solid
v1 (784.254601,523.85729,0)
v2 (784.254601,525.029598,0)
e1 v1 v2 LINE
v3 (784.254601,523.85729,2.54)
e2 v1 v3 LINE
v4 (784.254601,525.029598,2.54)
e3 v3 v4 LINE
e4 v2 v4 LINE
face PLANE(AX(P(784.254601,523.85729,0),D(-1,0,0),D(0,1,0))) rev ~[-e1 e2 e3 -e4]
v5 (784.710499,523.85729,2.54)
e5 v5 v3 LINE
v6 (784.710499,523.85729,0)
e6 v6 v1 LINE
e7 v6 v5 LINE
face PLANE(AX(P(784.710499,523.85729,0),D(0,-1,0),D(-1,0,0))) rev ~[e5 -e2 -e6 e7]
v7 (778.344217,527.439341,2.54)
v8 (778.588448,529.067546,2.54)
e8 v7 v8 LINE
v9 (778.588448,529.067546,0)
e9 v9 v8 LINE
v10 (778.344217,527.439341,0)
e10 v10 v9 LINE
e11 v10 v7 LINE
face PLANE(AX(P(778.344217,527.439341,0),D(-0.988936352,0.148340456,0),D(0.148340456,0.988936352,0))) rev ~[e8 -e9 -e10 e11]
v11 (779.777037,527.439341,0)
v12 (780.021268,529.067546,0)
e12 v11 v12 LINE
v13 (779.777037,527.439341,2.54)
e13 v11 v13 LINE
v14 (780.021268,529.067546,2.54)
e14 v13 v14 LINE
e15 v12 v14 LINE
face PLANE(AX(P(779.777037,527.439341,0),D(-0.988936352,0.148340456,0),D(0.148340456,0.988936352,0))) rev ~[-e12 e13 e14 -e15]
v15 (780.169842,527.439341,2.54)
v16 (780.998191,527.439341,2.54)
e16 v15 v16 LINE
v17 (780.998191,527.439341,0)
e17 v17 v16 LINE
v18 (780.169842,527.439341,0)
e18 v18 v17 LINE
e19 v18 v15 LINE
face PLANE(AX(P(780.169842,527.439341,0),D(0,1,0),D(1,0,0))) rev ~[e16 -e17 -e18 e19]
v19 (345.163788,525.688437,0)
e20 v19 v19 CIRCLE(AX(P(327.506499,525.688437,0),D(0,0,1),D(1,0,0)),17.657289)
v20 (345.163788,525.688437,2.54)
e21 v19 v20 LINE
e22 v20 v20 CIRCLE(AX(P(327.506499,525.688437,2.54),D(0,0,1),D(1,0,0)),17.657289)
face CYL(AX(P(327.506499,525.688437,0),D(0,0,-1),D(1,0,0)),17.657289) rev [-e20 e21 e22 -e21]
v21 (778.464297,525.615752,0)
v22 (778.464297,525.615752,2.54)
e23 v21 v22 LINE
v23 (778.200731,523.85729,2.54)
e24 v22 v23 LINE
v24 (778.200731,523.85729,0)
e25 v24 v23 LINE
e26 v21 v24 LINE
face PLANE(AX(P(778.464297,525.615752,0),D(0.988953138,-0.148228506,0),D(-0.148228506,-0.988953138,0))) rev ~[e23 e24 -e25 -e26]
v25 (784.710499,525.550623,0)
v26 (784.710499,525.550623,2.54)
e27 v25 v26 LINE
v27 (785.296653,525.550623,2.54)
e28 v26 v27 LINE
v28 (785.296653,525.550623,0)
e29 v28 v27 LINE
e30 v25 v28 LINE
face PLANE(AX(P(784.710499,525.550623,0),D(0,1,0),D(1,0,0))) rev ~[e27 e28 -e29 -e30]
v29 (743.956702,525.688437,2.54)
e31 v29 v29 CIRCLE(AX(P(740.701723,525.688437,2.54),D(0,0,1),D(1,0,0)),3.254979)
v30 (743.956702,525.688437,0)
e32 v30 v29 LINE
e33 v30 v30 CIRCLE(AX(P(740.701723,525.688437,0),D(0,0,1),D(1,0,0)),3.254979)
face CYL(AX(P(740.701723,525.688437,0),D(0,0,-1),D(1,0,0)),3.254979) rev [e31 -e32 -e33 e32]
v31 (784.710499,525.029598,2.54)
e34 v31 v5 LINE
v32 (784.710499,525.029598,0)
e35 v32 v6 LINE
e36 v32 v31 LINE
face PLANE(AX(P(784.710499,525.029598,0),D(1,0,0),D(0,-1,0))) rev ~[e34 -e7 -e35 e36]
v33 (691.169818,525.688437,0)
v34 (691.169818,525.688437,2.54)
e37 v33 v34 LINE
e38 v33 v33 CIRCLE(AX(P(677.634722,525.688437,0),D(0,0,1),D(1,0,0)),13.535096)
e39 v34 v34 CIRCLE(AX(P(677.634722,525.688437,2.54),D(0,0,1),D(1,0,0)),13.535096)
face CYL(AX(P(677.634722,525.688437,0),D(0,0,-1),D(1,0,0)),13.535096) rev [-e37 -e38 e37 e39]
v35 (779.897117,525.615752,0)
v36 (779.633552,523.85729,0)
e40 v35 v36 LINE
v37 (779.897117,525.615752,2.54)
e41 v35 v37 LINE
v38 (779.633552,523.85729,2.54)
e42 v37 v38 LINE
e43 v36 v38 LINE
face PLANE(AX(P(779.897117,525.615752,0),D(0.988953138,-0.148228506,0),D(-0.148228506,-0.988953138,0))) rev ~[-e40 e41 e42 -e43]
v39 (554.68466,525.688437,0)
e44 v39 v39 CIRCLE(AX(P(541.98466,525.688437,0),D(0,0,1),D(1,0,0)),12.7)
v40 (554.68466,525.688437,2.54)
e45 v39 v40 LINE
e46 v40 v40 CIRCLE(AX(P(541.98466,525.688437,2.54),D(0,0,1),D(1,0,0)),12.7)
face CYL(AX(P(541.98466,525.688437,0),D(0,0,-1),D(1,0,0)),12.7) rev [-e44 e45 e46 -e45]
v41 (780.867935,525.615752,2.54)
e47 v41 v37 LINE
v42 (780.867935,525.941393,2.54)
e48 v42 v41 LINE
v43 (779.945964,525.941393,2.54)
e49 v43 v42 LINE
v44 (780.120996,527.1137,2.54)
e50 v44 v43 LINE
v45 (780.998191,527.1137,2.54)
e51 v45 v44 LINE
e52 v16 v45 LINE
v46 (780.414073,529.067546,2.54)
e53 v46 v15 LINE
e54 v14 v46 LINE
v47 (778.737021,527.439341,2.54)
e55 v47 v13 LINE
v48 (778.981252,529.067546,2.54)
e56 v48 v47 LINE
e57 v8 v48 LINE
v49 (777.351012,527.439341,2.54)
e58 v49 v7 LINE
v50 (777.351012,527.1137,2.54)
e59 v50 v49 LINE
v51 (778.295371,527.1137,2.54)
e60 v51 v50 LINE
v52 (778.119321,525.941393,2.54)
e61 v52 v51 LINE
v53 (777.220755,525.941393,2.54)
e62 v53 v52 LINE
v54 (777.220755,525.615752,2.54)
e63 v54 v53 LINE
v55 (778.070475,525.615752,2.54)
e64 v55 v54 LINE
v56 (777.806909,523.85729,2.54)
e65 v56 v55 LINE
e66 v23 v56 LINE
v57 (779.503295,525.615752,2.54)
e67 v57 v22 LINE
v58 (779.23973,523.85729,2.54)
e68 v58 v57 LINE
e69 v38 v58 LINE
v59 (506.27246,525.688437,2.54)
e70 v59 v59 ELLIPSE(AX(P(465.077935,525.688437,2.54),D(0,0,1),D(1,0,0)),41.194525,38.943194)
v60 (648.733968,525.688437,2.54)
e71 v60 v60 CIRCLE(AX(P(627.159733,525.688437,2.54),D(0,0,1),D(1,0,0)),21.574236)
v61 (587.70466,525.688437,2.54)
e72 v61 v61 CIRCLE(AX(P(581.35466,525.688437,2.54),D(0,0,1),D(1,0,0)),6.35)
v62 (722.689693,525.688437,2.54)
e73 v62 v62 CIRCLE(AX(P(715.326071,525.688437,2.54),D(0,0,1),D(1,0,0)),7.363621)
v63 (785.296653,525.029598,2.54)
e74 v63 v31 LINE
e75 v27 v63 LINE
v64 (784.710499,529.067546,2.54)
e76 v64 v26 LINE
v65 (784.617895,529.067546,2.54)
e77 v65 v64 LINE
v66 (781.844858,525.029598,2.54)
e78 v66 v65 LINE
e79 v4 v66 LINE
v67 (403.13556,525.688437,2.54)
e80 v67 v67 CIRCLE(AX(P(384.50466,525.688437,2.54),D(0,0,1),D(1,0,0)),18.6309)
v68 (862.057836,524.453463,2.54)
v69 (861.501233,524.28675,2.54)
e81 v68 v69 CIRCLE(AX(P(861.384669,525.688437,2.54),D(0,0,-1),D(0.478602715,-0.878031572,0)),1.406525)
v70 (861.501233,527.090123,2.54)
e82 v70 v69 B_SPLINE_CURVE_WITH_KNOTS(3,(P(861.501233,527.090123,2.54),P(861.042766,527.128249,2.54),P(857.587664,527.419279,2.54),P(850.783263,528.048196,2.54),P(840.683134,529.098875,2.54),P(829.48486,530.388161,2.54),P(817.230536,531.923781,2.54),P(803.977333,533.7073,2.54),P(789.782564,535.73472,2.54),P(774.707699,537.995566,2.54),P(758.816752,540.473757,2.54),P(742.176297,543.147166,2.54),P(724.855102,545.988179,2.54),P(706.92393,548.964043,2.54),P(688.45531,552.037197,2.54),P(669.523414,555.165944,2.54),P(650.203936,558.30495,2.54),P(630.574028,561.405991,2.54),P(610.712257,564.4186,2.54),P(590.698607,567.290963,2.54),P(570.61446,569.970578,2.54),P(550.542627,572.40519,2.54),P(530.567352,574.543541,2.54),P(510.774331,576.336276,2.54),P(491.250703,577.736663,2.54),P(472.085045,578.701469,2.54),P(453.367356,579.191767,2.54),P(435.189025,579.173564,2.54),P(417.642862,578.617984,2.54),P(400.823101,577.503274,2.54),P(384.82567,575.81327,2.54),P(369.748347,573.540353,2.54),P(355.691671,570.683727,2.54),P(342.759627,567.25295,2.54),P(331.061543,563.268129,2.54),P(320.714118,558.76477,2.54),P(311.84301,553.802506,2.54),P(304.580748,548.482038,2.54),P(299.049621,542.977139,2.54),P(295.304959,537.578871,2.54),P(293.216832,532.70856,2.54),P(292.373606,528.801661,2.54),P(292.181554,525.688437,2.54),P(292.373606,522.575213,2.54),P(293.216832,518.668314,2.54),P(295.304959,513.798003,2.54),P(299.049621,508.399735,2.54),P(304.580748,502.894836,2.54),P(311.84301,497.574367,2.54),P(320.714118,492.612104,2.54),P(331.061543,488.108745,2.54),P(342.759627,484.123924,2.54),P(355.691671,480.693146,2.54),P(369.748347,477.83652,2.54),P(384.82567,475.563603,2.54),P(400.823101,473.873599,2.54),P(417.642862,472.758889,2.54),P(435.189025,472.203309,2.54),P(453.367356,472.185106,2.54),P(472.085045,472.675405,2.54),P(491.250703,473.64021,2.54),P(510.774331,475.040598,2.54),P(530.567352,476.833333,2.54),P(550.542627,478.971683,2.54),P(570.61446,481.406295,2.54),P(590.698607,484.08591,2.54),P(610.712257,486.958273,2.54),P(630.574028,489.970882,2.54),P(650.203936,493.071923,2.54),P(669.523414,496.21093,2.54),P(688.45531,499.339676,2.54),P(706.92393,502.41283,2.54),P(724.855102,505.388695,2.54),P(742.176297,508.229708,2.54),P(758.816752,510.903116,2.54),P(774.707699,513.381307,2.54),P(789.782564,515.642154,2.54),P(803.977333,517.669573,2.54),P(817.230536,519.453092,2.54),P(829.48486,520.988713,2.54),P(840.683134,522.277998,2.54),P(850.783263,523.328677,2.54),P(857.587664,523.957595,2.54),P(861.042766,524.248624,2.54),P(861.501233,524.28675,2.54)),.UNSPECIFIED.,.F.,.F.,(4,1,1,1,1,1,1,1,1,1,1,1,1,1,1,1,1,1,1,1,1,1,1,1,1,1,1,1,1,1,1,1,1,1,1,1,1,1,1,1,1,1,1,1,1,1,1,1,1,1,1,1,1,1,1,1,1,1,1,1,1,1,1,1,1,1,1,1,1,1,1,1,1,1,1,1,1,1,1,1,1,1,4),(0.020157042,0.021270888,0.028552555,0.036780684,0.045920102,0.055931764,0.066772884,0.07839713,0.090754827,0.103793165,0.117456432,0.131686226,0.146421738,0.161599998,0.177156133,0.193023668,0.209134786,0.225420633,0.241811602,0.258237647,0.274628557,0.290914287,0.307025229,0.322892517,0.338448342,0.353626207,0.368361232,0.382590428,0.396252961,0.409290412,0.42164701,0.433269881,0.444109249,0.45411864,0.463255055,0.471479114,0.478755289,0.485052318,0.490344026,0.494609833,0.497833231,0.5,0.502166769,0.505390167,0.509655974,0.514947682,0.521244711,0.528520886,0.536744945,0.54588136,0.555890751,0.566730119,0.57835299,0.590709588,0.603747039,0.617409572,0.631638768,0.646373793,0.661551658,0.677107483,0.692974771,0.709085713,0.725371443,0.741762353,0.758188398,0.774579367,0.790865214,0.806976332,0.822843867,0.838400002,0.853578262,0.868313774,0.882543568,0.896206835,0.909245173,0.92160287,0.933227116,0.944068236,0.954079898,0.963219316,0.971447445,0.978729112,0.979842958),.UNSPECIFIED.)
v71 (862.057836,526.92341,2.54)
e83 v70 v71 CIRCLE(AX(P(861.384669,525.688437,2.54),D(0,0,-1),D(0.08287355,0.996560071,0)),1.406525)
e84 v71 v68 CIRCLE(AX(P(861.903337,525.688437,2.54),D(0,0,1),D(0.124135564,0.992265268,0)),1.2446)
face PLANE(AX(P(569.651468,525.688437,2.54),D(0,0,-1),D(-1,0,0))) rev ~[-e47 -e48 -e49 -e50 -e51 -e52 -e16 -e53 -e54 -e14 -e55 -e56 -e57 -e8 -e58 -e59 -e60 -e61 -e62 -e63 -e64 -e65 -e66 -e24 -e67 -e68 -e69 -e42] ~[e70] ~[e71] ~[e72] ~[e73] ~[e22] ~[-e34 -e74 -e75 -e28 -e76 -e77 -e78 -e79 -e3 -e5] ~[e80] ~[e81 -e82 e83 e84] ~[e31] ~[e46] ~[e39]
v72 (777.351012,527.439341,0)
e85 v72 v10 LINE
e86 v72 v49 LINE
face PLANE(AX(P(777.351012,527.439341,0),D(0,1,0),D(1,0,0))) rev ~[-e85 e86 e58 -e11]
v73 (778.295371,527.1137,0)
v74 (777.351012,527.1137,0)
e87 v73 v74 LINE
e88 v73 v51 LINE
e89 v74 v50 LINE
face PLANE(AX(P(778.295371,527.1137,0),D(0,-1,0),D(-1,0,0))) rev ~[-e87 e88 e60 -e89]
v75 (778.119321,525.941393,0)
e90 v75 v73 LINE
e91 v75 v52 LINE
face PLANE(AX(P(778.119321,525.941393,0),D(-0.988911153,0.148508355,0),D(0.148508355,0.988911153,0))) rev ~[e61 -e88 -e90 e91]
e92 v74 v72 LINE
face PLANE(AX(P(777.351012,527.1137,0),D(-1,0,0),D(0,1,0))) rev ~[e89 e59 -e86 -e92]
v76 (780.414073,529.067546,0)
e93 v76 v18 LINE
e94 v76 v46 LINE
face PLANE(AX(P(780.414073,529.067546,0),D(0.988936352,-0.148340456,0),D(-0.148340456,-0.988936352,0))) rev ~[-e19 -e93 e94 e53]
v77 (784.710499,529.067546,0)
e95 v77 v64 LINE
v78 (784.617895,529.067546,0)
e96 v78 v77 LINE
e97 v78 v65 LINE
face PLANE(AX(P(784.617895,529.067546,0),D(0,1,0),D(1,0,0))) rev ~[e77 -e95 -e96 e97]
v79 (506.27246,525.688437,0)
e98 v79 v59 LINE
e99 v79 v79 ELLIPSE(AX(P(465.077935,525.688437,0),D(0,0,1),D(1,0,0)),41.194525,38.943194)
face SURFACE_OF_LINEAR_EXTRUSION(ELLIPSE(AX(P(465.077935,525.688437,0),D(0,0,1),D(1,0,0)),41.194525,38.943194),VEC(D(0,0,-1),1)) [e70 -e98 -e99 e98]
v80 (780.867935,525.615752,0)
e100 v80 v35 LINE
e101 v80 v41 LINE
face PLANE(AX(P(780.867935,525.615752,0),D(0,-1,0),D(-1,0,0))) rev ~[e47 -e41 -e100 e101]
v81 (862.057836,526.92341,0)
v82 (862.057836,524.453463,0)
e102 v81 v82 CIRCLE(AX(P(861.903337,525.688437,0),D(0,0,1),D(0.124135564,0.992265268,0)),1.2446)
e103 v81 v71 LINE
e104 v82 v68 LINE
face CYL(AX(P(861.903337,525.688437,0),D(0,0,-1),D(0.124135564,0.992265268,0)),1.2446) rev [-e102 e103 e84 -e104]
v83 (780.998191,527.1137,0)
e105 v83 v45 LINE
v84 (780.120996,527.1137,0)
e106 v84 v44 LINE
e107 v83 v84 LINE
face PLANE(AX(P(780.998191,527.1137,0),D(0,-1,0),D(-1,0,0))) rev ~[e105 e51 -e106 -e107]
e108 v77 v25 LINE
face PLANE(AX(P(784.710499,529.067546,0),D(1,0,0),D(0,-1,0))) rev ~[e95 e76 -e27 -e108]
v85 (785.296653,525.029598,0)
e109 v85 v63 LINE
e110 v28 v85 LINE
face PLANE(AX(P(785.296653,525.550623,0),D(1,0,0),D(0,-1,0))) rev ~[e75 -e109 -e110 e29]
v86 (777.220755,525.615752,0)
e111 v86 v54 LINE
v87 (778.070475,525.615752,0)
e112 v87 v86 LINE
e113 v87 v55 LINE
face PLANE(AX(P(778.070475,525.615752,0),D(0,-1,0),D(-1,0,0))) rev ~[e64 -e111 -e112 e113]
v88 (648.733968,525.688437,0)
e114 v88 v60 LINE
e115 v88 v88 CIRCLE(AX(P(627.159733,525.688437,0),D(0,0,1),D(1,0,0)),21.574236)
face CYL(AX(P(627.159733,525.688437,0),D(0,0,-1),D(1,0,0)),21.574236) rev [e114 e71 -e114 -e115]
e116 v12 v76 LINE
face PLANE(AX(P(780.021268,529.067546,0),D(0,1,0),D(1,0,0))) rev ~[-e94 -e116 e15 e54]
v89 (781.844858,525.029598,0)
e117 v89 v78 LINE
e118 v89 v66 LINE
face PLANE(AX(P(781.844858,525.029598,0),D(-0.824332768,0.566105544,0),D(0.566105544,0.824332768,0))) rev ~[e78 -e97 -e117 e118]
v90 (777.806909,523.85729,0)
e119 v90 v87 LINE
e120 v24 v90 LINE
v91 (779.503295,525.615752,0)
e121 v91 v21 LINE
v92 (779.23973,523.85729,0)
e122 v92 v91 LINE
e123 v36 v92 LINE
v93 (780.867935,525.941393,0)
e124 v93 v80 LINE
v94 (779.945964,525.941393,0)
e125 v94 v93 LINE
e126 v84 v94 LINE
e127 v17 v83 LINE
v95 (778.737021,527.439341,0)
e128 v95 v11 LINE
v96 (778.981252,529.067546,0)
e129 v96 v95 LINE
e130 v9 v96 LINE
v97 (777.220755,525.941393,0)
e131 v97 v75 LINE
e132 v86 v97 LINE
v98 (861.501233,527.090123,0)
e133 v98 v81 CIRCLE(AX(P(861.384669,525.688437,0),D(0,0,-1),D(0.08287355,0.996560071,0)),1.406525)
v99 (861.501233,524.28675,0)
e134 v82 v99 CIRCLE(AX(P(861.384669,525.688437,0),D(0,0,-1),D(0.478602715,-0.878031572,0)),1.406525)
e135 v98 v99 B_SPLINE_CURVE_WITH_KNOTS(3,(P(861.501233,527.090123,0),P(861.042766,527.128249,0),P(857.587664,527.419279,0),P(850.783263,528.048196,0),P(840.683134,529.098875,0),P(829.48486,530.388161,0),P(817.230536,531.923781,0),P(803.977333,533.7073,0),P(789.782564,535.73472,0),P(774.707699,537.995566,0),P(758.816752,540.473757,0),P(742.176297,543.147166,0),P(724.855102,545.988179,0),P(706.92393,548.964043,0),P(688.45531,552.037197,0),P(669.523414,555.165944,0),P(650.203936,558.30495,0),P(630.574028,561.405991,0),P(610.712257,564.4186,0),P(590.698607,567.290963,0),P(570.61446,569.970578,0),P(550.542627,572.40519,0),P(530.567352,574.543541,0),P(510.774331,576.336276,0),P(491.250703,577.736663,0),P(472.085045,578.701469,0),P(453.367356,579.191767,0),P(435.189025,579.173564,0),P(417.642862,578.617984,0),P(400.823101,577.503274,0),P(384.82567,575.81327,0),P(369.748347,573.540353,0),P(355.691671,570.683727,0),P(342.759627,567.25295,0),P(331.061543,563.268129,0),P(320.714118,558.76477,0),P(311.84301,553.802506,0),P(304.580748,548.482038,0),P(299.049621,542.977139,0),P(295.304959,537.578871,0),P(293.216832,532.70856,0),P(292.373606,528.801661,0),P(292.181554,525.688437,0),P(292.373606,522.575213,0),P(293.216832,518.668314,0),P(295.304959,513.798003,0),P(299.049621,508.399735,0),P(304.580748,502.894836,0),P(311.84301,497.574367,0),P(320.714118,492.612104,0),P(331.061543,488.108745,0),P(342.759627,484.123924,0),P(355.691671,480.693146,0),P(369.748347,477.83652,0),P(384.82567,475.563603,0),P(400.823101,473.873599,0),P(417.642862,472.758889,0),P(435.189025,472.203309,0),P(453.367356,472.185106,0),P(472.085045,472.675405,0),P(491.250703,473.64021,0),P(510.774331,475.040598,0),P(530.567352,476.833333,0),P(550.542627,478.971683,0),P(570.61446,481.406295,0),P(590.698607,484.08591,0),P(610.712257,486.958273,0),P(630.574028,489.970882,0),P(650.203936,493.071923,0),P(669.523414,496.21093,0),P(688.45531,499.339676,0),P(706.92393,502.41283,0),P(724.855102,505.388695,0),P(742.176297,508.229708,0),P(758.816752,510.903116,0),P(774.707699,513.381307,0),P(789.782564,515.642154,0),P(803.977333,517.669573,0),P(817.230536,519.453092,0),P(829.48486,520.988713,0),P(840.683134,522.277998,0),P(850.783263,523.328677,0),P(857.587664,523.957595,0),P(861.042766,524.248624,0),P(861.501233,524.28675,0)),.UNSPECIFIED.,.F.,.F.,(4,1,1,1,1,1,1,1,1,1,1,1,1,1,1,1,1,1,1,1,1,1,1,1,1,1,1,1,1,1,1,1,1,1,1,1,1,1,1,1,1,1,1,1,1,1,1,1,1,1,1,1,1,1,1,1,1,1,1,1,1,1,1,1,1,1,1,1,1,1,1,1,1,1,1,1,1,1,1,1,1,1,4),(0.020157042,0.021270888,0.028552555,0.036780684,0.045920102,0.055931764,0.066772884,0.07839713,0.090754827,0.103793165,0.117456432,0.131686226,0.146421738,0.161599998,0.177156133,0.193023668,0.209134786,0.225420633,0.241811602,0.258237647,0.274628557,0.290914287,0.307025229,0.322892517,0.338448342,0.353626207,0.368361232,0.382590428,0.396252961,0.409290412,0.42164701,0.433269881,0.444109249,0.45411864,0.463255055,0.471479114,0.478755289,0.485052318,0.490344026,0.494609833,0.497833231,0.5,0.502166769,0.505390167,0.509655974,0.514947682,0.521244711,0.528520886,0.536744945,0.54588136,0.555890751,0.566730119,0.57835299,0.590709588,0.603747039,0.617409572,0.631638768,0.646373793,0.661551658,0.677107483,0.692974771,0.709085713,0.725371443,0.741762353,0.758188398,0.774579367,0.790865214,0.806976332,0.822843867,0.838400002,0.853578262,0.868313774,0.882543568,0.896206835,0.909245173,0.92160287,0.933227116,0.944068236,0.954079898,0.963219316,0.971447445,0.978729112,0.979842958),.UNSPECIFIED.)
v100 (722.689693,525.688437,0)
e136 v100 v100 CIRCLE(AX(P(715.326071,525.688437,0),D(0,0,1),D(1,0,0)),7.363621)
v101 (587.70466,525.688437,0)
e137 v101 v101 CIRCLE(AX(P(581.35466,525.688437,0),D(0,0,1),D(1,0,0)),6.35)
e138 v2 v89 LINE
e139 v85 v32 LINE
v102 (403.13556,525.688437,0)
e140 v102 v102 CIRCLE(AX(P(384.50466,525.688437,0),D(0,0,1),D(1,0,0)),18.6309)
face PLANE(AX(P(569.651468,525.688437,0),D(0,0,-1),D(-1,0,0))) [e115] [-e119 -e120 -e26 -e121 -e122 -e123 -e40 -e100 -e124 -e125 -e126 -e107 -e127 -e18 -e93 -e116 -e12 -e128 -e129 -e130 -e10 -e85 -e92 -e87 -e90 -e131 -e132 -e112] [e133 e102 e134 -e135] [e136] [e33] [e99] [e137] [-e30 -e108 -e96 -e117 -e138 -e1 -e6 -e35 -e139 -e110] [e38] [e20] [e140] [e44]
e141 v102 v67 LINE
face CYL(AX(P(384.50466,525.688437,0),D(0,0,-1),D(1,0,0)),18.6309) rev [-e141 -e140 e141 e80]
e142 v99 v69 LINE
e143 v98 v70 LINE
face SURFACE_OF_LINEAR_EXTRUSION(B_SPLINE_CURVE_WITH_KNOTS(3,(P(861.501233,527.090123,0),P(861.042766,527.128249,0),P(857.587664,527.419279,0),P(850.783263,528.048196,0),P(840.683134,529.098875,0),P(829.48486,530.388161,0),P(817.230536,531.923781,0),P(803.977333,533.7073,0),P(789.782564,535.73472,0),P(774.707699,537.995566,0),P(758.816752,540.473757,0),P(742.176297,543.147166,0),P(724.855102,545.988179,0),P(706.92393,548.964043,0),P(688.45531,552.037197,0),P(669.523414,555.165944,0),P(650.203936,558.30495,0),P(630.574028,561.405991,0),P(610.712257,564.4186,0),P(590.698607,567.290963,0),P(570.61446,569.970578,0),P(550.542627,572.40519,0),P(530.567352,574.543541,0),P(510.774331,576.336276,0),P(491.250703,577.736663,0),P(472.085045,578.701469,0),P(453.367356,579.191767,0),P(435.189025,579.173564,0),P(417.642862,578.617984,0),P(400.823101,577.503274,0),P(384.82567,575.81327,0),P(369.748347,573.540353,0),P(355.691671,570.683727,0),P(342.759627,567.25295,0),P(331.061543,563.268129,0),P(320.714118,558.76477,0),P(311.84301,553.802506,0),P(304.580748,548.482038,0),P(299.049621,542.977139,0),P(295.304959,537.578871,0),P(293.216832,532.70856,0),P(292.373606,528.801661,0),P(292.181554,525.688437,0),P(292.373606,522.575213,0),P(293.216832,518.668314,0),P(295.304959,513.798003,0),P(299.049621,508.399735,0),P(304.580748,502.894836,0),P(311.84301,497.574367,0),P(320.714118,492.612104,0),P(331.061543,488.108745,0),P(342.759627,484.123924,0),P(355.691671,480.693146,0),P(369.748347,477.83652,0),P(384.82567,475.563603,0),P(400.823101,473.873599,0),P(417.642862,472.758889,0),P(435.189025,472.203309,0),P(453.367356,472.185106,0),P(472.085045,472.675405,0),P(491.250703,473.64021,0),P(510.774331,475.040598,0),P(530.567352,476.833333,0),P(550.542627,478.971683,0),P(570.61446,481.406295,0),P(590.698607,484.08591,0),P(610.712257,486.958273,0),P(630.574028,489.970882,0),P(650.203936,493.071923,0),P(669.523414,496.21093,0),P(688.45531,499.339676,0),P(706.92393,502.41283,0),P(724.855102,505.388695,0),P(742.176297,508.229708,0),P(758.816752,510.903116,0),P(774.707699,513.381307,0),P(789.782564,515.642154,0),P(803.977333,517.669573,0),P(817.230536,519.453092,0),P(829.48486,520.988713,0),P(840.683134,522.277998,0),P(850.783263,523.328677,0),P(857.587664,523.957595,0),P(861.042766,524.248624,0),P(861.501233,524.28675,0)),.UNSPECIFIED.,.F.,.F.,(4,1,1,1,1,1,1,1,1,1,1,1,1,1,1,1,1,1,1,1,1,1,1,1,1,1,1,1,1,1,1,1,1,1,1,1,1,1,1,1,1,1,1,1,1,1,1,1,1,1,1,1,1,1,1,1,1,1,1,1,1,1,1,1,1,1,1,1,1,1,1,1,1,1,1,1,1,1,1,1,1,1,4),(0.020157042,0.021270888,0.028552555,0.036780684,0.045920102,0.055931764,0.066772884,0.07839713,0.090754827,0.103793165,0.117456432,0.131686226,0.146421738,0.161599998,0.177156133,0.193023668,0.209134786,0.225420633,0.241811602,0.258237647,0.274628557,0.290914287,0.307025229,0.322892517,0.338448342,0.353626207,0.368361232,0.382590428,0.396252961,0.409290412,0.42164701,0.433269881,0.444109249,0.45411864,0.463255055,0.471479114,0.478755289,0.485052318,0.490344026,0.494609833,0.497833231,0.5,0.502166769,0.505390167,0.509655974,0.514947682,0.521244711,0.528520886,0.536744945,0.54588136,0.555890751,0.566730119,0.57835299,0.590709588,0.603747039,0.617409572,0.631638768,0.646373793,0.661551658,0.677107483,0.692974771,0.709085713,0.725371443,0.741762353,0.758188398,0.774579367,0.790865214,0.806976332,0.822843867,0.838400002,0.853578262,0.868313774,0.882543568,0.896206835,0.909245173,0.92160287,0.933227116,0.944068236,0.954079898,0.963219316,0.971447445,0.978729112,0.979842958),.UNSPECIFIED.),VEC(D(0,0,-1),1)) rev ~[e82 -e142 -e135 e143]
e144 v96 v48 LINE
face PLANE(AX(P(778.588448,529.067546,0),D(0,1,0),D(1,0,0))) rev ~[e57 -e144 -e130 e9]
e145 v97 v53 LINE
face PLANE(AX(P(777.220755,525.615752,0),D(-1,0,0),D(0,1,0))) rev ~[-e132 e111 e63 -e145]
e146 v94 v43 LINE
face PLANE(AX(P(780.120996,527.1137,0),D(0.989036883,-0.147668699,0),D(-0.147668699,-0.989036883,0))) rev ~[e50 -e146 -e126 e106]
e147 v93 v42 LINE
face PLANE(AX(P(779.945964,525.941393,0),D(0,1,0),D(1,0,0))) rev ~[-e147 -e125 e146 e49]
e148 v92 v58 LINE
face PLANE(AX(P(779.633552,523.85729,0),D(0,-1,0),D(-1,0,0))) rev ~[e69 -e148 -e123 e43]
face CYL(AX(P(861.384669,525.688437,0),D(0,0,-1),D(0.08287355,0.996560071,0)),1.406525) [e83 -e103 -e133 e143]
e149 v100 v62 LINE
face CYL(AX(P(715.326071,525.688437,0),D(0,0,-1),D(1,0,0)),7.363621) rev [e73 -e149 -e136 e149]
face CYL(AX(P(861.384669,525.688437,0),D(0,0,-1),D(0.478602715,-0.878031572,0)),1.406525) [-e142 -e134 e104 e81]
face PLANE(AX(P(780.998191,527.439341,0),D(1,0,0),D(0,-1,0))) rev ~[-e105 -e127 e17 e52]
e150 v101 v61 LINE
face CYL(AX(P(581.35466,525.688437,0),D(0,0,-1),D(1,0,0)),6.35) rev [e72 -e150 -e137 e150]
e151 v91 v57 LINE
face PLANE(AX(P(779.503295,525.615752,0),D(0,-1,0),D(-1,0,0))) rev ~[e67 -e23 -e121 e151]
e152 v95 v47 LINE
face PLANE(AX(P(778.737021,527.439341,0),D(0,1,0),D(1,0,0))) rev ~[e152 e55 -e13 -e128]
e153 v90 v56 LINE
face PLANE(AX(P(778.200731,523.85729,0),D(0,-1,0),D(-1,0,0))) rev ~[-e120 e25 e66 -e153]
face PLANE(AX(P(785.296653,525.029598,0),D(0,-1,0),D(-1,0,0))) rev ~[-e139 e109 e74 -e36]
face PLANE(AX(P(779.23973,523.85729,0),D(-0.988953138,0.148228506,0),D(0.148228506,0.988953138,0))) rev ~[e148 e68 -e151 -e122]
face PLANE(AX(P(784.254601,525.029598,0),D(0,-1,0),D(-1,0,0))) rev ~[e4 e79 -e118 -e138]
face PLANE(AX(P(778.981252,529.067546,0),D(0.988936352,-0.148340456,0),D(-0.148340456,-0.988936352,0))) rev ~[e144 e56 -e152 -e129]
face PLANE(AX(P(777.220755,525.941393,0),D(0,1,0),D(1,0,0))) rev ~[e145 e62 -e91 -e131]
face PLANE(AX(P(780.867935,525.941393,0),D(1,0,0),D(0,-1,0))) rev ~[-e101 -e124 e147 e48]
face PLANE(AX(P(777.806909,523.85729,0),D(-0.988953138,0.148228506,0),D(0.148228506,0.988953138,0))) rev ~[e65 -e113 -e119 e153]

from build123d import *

# Parameters (mm, degrees)
SKETCH2_R           = 17.657288519
SKETCH2_R_2         = 3.25497866
SKETCH2_R_3         = 7.363621317
SKETCH2_R_4         = 13.535095818
SKETCH2_R_5         = 21.574235763
SKETCH2_R_6         = 6.35
SKETCH2_R_7         = 12.7
SKETCH2_R_8         = 18.6309
SKETCH2_RX          = 41.194524799
SKETCH2_RY          = 38.943193852
BOSS_EXTRUDE1_DEPTH = 2.54


with BuildPart() as part:
    # Sketch2 → Boss-Extrude1 (new body)
    with BuildSketch(Plane.XY):
        with BuildLine():
            ThreePointArc((862.057835852, 526.923410091), (860.658736729, 525.688436739), (862.057835852, 524.453463386))
            ThreePointArc((862.057835852, 524.453463386), (861.788236827, 524.341051971), (861.501232881, 524.286750085))
            add(Edge.make_bspline(
                [(861.501232881, 527.090123392), (861.04276604, 527.12824932), (857.587663802, 527.419278859), (850.783262685, 528.048196289), (840.683134449, 529.098875488), (829.484860236, 530.388160821), (817.230535763, 531.923781269), (803.977332742, 533.707300368), (789.782564285, 535.734719529), (774.707698866, 537.995566264), (758.816751695, 540.473757329), (742.176296542, 543.147165675), (724.855101729, 545.988178666), (706.923930227, 548.964043091), (688.455310369, 552.037197326), (669.523414321, 555.165943913), (650.203936089, 558.304950145), (630.574027704, 561.405991177), (610.712257411, 564.418599985), (590.698606531, 567.290963188), (570.614460095, 569.970578433), (550.5426266, 572.405190197), (530.567351759, 574.543540838), (510.774331378, 576.336275734), (491.250703169, 577.736663246), (472.085045057, 578.701468568), (453.367355912, 579.191767184), (435.189024931, 579.173564475), (417.642862385, 578.617984442), (400.823101065, 577.503274422), (384.82567011, 575.813270026), (369.748346926, 573.540353328), (355.691671144, 570.683727016), (342.75962723, 567.252949898), (331.06154295, 563.268128921), (320.714118096, 558.764769511), (311.843009548, 553.802506172), (304.580747656, 548.482037868), (299.049620623, 542.977138704), (295.304959214, 537.578870758), (293.216831654, 532.708559781), (292.373606275, 528.801660543), (292.181554098, 525.688436742), (292.373606275, 522.575212941), (293.216831654, 518.668313703), (295.304959214, 513.798002725), (299.049620623, 508.39973478), (304.580747656, 502.894835616), (311.843009548, 497.574367312), (320.714118096, 492.612103972), (331.06154295, 488.108744562), (342.75962723, 484.123923586), (355.691671144, 480.693146467), (369.748346926, 477.836520155), (384.82567011, 475.563603458), (400.823101065, 473.873599062), (417.642862385, 472.758889041), (435.189024931, 472.203309009), (453.367355912, 472.1851063), (472.085045057, 472.675404915), (491.250703169, 473.640210238), (510.774331378, 475.040597749), (530.567351759, 476.833332645), (550.5426266, 478.971683286), (570.614460095, 481.406295051), (590.698606531, 484.085910295), (610.712257411, 486.958273498), (630.574027704, 489.970882307), (650.203936089, 493.071923339), (669.523414321, 496.210929571), (688.455310369, 499.339676157), (706.923930227, 502.412830392), (724.855101729, 505.388694817), (742.176296542, 508.229707808), (758.816751695, 510.903116155), (774.707698866, 513.38130722), (789.782564285, 515.642153954), (803.977332742, 517.669573115), (817.230535763, 519.453092214), (829.484860236, 520.988712662), (840.683134449, 522.277997995), (850.783262685, 523.328677195), (857.587663802, 523.957594625), (861.04276604, 524.248624163), (861.501232881, 524.286750085)],
                knots=[0.020157042, 0.020157042, 0.020157042, 0.020157042, 0.021270888, 0.028552555, 0.036780684, 0.045920102, 0.055931764, 0.066772884, 0.07839713, 0.090754827, 0.103793165, 0.117456432, 0.131686226, 0.146421738, 0.161599998, 0.177156133, 0.193023668, 0.209134786, 0.225420633, 0.241811602, 0.258237647, 0.274628557, 0.290914287, 0.307025229, 0.322892517, 0.338448342, 0.353626207, 0.368361232, 0.382590428, 0.396252961, 0.409290412, 0.42164701, 0.433269881, 0.444109249, 0.45411864, 0.463255055, 0.471479114, 0.478755289, 0.485052318, 0.490344026, 0.494609833, 0.497833231, 0.5, 0.502166769, 0.505390167, 0.509655974, 0.514947682, 0.521244711, 0.528520886, 0.536744945, 0.54588136, 0.555890751, 0.566730119, 0.57835299, 0.590709588, 0.603747039, 0.617409572, 0.631638768, 0.646373793, 0.661551658, 0.677107483, 0.692974771, 0.709085713, 0.725371443, 0.741762353, 0.758188398, 0.774579367, 0.790865214, 0.806976332, 0.822843867, 0.838400002, 0.853578262, 0.868313774, 0.882543568, 0.896206835, 0.909245173, 0.92160287, 0.933227116, 0.944068236, 0.954079898, 0.963219316, 0.971447445, 0.978729112, 0.979842958, 0.979842958, 0.979842958, 0.979842958], degree=3))
            ThreePointArc((861.501232881, 527.090123392), (861.788236827, 527.035821507), (862.057835852, 526.923410091))
        make_face()
        with Locations((327.506499469, 525.688436739)):
            Circle(SKETCH2_R, mode=Mode.SUBTRACT)
        with Locations((740.701723359, 525.688436739)):
            Circle(SKETCH2_R_2, mode=Mode.SUBTRACT)
        with Locations((715.326071331, 525.688436739)):
            Circle(SKETCH2_R_3, mode=Mode.SUBTRACT)
        with Locations((677.63472234, 525.688436739)):
            Circle(SKETCH2_R_4, mode=Mode.SUBTRACT)
        with Locations((627.159732714, 525.688436739)):
            Circle(SKETCH2_R_5, mode=Mode.SUBTRACT)
        with Locations((581.354660413, 525.688436739)):
            Circle(SKETCH2_R_6, mode=Mode.SUBTRACT)
        with Locations((541.984660413, 525.688436739)):
            Circle(SKETCH2_R_7, mode=Mode.SUBTRACT)
        with Locations((384.504660413, 525.688436739)):
            Circle(SKETCH2_R_8, mode=Mode.SUBTRACT)
        with Locations((465.077935131, 525.688436739)):
            Ellipse(SKETCH2_RX, SKETCH2_RY, mode=Mode.SUBTRACT)
        Polygon((780.86793468, 525.941392586), (780.86793468, 525.61575156), (779.897117368, 525.61575156), (779.633551667, 523.857290023), (779.239729554, 523.857290023), (779.503295255, 525.61575156), (778.464296855, 525.61575156), (778.200731154, 523.857290023), (777.806909041, 523.857290023), (778.070474742, 525.61575156), (777.220755192, 525.61575156), (777.220755192, 525.941392586), (778.119320903, 525.941392586), (778.295370579, 527.113700284), (777.351011604, 527.113700284), (777.351011604, 527.439341309), (778.34421673, 527.439341309), (778.588447504, 529.067546435), (778.981251991, 529.067546435), (778.737021217, 527.439341309), (779.777037242, 527.439341309), (780.021268016, 529.067546435), (780.414072504, 529.067546435), (780.16984173, 527.439341309), (780.998191092, 527.439341309), (780.998191092, 527.113700284), (780.120995579, 527.113700284), (779.945963529, 525.941392586), align=None, mode=Mode.SUBTRACT)
        Polygon((784.617894617, 529.067546435), (784.71049878, 529.067546435), (784.71049878, 525.550623359), (785.296652629, 525.550623359), (785.296652629, 525.029597721), (784.71049878, 525.029597721), (784.71049878, 523.857290023), (784.254601343, 523.857290023), (784.254601343, 525.029597721), (781.844857755, 525.029597721), align=None, mode=Mode.SUBTRACT)
    extrude(amount=BOSS_EXTRUDE1_DEPTH)


solid = part.part
